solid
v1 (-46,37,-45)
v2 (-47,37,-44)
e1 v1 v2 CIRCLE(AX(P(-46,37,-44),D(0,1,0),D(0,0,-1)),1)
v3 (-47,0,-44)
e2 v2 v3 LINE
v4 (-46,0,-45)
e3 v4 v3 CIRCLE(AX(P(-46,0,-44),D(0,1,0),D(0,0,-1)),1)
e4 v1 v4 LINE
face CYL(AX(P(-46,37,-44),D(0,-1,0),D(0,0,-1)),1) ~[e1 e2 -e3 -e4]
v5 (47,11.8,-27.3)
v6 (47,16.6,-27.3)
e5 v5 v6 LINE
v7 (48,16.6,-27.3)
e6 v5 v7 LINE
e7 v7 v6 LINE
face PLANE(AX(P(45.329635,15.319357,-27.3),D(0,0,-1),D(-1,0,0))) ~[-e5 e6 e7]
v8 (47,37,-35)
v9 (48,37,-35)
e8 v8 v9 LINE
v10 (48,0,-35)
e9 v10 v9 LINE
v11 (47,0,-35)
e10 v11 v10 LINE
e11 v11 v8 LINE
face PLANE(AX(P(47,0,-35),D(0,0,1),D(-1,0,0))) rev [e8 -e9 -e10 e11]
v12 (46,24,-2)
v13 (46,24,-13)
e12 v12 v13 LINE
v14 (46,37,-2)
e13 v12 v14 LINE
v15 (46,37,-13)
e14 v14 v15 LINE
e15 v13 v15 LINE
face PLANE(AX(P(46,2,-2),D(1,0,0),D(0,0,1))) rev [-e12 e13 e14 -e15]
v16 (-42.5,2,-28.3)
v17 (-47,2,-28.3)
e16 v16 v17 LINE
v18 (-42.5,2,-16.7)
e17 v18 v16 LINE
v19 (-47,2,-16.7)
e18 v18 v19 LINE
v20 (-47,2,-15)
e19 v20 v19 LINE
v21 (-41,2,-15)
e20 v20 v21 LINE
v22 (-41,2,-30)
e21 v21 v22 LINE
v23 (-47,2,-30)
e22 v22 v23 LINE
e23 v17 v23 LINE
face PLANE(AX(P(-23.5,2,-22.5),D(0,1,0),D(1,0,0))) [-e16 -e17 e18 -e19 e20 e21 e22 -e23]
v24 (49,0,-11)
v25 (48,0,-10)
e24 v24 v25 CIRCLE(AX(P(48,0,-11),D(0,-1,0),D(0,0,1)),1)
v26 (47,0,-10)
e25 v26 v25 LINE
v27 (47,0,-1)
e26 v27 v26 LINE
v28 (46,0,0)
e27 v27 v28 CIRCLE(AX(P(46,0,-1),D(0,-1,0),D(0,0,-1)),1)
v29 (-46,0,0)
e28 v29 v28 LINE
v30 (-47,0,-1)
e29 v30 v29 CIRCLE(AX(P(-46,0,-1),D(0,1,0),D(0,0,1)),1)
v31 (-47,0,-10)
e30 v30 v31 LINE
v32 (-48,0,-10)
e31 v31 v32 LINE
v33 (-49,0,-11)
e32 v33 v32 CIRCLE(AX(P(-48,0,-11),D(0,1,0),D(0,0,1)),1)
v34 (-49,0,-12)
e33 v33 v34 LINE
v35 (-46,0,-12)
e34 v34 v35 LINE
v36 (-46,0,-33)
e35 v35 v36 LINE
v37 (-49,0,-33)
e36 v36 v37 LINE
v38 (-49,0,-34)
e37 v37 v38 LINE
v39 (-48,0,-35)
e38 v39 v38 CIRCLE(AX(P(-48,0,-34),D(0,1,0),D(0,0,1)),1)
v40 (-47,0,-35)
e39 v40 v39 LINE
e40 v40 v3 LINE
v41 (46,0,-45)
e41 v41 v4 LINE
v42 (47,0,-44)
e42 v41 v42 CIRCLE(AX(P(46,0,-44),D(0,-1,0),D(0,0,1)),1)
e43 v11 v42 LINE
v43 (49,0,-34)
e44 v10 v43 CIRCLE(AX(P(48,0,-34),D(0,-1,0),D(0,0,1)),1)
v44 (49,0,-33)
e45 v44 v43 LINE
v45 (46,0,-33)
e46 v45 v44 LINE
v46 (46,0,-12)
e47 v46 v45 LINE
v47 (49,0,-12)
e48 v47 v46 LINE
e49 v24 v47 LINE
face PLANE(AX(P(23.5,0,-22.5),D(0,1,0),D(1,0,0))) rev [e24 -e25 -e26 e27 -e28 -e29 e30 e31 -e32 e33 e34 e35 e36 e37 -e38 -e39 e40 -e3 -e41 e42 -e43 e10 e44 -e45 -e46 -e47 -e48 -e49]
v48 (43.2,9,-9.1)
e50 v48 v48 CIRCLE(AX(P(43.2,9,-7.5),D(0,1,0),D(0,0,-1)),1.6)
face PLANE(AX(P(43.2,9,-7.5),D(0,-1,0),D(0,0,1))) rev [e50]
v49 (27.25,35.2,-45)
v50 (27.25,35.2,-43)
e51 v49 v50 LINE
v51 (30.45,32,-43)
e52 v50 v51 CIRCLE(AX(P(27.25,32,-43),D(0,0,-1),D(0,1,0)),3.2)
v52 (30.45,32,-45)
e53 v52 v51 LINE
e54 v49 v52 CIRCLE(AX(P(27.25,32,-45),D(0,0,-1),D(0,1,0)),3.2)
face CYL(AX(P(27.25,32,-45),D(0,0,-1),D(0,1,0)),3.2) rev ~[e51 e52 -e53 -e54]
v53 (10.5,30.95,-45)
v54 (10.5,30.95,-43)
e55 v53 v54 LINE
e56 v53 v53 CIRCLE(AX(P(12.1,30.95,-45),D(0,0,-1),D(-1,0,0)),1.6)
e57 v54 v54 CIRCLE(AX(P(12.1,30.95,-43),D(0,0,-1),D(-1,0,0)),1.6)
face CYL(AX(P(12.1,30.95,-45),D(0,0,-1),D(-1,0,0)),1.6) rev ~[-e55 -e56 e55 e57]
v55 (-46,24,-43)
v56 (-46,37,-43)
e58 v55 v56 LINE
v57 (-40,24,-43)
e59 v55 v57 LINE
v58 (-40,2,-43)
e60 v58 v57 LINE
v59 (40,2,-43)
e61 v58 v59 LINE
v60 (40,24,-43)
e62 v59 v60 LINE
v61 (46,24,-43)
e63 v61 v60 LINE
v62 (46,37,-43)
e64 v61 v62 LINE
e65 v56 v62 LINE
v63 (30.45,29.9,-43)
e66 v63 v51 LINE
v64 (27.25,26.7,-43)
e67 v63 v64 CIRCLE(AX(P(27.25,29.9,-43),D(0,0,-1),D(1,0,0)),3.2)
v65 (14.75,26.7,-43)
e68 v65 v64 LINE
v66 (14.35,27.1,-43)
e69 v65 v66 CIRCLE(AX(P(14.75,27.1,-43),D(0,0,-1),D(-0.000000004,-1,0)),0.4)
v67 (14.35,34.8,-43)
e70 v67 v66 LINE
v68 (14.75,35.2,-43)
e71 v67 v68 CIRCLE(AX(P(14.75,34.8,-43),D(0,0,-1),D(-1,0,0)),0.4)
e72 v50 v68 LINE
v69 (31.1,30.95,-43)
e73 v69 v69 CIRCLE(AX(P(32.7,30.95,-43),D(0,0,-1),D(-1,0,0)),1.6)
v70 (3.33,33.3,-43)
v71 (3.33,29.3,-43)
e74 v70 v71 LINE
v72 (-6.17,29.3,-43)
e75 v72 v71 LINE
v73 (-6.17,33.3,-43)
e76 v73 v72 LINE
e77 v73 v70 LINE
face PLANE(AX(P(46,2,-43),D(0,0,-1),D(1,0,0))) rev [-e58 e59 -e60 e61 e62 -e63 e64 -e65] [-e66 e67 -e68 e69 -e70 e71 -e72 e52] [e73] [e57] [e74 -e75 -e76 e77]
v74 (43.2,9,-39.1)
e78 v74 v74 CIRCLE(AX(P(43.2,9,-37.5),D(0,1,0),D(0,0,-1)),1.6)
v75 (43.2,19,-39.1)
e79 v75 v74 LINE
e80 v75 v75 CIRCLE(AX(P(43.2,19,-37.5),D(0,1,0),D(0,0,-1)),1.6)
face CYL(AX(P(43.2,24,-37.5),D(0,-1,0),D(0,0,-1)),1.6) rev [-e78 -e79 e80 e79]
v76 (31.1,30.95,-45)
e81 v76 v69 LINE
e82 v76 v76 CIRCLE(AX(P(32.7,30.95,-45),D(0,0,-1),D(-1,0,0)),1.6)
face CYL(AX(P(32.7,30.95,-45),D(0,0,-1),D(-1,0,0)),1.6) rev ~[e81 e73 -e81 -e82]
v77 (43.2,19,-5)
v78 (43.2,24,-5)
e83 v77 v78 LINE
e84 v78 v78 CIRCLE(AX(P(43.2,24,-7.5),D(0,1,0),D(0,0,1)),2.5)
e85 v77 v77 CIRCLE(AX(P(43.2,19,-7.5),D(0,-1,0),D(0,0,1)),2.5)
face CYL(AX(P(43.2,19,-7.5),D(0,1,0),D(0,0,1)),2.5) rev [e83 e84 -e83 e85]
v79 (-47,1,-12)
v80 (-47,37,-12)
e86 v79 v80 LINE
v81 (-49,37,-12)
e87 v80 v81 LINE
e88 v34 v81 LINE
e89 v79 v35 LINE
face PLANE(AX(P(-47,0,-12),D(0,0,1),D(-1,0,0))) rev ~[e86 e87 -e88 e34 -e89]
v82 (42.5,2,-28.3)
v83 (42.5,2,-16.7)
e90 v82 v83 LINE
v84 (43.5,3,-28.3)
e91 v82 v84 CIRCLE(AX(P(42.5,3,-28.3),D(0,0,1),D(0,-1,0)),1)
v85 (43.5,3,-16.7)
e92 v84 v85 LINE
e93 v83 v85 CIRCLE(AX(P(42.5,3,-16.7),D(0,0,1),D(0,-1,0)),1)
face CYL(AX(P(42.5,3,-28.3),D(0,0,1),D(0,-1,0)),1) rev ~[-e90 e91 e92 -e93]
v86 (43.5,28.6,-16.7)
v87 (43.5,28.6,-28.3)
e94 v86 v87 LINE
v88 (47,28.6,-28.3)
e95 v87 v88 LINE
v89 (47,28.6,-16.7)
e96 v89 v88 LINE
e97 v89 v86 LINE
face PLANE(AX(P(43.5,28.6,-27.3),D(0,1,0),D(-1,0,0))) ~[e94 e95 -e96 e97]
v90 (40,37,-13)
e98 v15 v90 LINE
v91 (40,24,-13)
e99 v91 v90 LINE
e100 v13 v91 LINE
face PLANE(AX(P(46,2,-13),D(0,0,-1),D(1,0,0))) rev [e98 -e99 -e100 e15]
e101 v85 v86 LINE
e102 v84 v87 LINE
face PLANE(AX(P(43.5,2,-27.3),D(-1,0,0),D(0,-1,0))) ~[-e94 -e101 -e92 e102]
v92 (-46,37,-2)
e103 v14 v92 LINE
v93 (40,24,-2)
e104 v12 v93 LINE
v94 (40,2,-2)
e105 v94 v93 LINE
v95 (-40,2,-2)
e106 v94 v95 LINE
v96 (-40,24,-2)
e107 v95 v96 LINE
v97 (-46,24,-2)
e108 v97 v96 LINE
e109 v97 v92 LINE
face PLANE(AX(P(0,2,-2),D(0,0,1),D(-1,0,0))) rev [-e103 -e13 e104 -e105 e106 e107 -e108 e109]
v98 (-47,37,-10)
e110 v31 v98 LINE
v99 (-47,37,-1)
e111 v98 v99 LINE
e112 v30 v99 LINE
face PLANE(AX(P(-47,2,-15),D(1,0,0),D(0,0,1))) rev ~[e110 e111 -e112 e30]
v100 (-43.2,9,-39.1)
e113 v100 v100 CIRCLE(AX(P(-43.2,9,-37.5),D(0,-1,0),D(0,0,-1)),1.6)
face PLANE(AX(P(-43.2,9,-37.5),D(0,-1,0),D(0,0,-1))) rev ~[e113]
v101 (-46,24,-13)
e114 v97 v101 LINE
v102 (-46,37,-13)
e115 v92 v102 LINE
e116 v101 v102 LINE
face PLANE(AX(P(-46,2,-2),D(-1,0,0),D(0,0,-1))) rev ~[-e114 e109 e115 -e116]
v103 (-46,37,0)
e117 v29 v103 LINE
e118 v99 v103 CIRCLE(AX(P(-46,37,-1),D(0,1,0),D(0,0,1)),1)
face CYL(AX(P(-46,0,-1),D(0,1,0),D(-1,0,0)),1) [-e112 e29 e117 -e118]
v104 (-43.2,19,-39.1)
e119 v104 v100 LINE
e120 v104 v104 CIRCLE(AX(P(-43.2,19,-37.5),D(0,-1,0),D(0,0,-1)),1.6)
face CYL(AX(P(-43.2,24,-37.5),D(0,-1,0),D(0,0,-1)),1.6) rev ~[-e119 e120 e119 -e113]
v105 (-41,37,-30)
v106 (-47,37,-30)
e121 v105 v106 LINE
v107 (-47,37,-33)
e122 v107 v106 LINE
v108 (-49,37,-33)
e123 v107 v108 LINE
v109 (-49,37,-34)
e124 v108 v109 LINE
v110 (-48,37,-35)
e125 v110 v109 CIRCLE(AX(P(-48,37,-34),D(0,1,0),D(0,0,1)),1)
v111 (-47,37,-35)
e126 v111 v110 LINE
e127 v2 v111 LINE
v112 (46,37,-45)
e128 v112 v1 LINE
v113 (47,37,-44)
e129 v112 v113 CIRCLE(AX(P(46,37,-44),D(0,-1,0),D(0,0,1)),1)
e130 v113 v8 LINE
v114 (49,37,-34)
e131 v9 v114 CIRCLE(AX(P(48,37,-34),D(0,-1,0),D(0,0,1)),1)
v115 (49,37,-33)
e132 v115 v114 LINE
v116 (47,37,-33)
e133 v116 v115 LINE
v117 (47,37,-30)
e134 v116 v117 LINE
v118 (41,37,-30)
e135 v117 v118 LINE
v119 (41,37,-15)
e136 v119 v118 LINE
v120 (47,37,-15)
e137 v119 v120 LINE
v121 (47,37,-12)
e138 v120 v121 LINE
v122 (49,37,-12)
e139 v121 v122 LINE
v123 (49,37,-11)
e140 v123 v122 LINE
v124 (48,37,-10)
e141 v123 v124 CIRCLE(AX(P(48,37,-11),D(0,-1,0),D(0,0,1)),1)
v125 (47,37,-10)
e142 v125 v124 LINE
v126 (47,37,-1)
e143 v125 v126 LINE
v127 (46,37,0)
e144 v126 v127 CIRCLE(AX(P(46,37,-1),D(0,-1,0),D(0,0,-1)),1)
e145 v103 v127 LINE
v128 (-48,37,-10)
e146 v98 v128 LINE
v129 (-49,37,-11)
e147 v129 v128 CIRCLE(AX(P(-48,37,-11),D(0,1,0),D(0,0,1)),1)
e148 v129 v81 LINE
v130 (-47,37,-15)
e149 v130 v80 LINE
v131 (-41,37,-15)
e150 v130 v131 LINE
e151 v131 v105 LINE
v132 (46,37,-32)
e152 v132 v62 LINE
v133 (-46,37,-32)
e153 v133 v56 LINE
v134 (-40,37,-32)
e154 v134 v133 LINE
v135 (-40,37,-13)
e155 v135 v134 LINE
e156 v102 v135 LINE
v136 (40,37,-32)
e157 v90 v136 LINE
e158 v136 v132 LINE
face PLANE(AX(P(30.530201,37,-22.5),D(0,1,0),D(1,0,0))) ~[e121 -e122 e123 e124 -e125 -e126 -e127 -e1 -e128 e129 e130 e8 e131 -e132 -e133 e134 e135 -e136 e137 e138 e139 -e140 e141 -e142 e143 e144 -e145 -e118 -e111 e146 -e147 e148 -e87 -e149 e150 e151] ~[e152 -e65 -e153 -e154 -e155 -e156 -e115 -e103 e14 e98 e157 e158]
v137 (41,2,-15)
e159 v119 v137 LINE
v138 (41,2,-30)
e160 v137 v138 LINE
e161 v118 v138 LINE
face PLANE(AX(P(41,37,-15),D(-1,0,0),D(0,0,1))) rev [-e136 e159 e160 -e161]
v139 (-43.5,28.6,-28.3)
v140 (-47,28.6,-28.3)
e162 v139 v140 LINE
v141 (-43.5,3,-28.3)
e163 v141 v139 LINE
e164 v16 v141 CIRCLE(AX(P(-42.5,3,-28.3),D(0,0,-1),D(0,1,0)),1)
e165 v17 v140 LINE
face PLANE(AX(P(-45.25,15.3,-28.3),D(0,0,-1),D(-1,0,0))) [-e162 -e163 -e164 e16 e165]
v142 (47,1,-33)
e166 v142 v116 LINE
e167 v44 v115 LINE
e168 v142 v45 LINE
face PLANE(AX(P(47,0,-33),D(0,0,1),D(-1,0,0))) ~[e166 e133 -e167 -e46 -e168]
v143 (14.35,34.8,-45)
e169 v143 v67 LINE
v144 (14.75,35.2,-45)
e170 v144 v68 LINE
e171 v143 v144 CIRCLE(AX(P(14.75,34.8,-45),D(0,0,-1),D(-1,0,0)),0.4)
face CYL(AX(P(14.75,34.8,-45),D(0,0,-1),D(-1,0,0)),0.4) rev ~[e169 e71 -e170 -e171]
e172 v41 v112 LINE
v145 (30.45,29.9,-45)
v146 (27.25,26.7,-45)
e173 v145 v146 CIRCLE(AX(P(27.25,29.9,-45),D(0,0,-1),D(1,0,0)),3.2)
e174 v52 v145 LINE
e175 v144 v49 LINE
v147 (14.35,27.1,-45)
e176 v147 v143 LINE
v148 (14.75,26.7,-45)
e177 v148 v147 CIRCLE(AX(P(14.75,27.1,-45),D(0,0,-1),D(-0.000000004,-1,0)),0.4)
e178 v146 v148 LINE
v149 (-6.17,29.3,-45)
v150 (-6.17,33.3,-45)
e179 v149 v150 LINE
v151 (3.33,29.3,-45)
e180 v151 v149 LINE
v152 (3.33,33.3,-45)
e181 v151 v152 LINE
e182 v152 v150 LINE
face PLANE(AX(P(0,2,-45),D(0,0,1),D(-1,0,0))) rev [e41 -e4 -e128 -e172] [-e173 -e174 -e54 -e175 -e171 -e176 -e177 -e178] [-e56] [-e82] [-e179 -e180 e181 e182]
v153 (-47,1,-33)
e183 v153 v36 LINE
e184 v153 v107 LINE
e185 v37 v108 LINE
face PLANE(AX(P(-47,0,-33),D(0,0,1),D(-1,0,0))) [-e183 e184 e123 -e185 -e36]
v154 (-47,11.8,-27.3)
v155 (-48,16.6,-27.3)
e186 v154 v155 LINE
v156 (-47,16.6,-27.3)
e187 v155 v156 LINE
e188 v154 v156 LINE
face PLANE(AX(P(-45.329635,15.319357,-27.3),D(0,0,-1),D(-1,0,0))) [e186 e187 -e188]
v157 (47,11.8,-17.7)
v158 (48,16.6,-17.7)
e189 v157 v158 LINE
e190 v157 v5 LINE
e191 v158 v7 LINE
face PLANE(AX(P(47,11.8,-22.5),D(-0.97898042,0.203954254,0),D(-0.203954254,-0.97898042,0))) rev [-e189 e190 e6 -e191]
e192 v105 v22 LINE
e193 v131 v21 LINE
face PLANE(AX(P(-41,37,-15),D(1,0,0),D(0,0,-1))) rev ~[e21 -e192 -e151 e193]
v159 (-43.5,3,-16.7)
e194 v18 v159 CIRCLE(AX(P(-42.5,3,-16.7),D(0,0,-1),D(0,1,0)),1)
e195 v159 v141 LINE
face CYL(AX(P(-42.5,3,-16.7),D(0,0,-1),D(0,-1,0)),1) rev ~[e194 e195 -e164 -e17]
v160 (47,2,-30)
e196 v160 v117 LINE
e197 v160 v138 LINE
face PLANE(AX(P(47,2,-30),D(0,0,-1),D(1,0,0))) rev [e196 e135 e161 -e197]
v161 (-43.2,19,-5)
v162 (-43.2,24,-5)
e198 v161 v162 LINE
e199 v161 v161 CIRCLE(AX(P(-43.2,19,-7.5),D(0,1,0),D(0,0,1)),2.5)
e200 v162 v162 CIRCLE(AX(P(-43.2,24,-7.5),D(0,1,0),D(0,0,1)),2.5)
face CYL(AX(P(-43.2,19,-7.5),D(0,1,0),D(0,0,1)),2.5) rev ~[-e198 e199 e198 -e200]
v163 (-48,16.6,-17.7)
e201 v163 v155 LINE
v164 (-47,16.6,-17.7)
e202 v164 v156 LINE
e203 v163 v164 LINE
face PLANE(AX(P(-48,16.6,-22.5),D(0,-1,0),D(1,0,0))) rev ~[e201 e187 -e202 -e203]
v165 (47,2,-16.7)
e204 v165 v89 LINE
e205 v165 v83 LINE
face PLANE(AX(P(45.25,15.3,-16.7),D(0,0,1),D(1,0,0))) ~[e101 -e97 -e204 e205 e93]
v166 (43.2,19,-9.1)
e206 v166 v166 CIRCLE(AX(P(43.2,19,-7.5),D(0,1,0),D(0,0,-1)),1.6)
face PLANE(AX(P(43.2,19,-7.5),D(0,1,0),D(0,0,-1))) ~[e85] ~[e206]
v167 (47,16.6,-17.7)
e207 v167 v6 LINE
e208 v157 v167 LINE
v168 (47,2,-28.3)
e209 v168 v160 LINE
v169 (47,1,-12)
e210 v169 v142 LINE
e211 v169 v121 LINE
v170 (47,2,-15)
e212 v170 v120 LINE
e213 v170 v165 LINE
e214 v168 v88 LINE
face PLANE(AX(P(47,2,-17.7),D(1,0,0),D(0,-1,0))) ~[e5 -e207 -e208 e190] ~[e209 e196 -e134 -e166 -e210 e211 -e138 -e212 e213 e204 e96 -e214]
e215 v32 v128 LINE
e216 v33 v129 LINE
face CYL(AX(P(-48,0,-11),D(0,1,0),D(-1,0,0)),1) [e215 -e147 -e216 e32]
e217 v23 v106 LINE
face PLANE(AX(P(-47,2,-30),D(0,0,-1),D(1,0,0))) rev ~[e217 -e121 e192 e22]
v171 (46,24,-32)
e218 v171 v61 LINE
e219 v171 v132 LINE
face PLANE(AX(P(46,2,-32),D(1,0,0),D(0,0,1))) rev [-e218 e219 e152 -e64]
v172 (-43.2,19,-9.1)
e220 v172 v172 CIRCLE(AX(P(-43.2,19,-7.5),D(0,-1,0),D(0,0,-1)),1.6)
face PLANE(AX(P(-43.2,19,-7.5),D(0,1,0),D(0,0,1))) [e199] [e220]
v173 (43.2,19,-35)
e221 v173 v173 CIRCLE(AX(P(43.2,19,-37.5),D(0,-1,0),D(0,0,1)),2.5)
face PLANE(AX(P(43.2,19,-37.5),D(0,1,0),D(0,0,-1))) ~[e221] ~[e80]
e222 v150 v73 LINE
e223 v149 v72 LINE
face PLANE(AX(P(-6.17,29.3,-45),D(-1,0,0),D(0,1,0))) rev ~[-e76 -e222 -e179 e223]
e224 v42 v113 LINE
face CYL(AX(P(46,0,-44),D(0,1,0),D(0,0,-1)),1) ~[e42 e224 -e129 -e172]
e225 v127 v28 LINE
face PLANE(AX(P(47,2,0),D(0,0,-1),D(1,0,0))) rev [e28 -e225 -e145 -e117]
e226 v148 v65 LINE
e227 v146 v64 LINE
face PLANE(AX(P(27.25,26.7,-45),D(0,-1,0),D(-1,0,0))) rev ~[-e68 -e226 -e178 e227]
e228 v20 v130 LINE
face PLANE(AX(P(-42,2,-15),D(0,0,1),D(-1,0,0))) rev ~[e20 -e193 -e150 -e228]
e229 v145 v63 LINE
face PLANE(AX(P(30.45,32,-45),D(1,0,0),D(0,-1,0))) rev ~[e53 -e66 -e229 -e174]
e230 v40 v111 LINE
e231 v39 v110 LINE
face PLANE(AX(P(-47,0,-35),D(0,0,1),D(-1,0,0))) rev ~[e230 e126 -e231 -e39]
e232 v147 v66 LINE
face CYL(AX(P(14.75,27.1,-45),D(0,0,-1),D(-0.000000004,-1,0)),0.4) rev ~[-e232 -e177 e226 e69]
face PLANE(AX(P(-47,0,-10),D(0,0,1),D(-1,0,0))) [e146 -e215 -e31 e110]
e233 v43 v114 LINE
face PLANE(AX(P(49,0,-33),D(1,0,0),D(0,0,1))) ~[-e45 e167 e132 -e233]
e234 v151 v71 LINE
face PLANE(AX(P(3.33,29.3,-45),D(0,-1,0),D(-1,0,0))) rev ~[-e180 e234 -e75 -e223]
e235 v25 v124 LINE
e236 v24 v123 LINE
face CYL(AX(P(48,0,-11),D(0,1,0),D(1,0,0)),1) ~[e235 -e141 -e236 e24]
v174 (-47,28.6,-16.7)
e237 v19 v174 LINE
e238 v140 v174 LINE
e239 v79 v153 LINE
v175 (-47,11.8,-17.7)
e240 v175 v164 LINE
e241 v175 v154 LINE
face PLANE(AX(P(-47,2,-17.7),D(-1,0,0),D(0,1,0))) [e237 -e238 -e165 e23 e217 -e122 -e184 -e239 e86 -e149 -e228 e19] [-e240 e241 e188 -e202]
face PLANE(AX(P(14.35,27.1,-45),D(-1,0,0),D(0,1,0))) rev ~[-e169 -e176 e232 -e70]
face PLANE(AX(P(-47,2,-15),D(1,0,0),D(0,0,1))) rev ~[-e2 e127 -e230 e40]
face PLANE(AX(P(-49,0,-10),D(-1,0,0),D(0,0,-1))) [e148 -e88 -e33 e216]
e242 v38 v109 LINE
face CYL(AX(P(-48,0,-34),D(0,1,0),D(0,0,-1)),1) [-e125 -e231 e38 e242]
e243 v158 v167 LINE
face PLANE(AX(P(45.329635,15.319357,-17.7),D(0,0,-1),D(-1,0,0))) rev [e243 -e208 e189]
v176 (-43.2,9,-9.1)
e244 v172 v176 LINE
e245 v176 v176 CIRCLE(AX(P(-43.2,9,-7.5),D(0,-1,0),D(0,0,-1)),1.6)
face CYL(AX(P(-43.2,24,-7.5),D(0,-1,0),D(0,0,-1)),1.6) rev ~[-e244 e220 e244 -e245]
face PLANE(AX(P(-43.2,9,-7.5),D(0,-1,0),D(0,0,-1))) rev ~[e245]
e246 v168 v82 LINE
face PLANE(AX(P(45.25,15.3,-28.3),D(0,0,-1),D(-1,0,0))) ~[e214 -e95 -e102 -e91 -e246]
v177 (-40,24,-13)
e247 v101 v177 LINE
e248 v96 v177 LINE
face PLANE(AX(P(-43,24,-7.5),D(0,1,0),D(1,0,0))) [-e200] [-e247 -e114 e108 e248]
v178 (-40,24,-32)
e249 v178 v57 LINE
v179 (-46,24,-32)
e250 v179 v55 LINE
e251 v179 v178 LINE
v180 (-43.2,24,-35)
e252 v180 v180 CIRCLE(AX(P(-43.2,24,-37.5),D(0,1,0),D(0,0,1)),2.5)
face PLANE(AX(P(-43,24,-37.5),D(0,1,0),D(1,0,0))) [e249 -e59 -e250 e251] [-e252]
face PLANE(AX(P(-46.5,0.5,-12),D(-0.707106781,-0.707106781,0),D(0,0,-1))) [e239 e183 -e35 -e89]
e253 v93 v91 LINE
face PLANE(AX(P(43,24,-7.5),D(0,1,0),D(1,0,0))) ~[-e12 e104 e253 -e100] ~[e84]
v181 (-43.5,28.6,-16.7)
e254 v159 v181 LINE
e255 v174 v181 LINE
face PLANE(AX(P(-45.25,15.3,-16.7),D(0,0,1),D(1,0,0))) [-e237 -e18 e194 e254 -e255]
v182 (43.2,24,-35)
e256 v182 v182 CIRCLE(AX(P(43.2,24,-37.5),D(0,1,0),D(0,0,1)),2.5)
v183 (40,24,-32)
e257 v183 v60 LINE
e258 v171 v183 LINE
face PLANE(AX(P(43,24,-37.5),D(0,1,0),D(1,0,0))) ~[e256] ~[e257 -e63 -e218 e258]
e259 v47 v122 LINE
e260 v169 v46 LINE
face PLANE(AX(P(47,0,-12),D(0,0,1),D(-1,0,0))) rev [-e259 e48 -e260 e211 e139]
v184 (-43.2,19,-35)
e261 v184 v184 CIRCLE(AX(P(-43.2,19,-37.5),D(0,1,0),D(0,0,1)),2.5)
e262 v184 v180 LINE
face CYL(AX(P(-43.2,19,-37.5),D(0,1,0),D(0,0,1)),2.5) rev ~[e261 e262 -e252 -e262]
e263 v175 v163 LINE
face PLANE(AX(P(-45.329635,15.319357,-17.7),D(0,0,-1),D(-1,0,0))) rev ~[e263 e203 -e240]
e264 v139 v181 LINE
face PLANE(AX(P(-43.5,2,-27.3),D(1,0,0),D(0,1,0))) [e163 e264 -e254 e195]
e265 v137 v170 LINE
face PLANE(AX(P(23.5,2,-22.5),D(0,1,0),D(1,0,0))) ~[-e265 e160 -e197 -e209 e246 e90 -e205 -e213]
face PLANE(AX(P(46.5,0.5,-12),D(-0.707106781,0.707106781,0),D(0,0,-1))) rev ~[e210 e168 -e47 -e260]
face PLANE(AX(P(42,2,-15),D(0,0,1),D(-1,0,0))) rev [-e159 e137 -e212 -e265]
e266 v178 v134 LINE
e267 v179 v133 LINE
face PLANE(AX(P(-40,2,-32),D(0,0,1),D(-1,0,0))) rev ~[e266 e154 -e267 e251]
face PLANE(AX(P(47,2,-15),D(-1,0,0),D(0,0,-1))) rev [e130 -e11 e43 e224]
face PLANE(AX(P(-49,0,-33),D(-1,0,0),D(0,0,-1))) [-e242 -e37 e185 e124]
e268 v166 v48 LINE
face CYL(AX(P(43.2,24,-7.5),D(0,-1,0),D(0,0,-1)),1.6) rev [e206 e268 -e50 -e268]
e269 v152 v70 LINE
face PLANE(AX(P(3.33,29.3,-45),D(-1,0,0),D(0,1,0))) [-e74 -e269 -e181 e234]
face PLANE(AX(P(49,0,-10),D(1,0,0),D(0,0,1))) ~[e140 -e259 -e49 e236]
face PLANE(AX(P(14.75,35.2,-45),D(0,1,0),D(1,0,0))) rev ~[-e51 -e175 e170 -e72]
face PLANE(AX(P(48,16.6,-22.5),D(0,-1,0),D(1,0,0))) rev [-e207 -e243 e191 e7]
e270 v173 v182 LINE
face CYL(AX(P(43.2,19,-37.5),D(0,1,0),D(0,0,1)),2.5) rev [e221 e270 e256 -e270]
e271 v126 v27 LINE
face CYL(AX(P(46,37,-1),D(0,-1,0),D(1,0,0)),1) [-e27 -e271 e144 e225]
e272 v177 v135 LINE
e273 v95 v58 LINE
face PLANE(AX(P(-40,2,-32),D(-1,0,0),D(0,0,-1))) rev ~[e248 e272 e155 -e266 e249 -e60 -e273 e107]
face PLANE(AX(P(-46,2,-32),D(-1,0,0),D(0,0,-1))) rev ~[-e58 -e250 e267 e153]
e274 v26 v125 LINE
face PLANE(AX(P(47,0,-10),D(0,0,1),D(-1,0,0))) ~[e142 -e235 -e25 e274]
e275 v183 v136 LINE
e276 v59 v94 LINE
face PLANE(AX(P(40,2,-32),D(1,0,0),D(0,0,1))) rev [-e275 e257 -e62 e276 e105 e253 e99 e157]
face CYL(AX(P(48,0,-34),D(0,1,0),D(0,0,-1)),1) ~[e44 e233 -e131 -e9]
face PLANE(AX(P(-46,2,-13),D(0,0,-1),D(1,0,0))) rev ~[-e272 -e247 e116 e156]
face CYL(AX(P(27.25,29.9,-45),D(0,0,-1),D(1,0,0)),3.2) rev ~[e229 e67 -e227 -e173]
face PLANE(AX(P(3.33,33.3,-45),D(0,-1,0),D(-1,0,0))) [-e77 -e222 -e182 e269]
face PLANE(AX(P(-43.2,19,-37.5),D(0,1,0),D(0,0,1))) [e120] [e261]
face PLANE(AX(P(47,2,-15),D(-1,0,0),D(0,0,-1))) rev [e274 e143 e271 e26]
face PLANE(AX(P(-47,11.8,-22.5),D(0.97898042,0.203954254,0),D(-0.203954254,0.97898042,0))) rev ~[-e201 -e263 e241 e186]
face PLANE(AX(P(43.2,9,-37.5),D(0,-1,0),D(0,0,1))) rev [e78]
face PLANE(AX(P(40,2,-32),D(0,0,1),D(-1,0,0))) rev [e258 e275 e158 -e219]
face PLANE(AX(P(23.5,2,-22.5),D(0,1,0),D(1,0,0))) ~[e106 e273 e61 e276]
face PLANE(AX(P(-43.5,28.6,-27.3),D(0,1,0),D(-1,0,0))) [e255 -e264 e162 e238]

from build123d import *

# Parameters (mm, degrees)
SKETCH1_W            = 47
SKETCH1_H            = 45
BOSS_EXTRUDE1_DEPTH  = 2
BOSS_EXTRUDE3_DEPTH  = 35
BOSS_EXTRUDE4_DEPTH  = 4.8
SKETCH6_W            = 2
SKETCH6_H            = 2
BOSS_EXTRUDE5_DEPTH  = 37
SKETCH13_W           = 6
SKETCH13_H           = 11
BOSS_EXTRUDE7_DEPTH  = 22
SKETCH23_W           = 3.5
SKETCH23_H           = 26.6
BOSS_EXTRUDE9_DEPTH  = 1
SKETCH24_W           = 3.5
SKETCH24_H           = 26.6
BOSS_EXTRUDE10_DEPTH = 1
HOLE2_D              = 3.2
HOLE2_DEPTH          = 15
HOLE2_CBORE_D        = 5
HOLE2_CBORE_DEPTH    = 5
FILLET1_R            = 1
FILLET2_R            = 1
SKETCH25_W           = 1
SKETCH25_H           = 15
CUT_EXTRUDE5_DEPTH   = 35
FILLET1_OF_MIRROR1_R = 1
FILLET2_OF_MIRROR1_R = 1
CHAMFER1_SIZE        = 1
SKETCH19_R           = 1.6
CUT_EXTRUDE1_DEPTH   = 10
SKETCH20_W           = 9.5
SKETCH20_H           = 4
CUT_EXTRUDE2_DEPTH   = 10


with BuildPart() as part:
    # Sketch1 → Boss-Extrude1 (new body)
    with BuildSketch(Plane(origin=(0, 0, 0), x_dir=(1, 0, 0), z_dir=(0, 1, 0))):
        with Locations((-23.5, 22.5)):
            Rectangle(SKETCH1_W, SKETCH1_H)
    boss_extrude1 = extrude(amount=BOSS_EXTRUDE1_DEPTH)

    # Sketch4 → Boss-Extrude3 (add)
    with BuildSketch(Plane(origin=(0, 2, 0), x_dir=(1, 0, 0), z_dir=(0, 1, 0))):
        Polygon((-42, 15), (-47, 15), (-47, 0), (0, 0), (0, 2), (-0.864229009, 2), (-2, 2), (-45, 2), (-46, 2), (-46, 13), (-45, 13), (-40, 13), (-40, 32), (-45, 32), (-46, 32), (-46, 43), (-45, 43), (-2, 43), (0, 43), (0, 45), (-47, 45), (-47, 30), (-42, 30), align=None)
    boss_extrude3 = extrude(amount=BOSS_EXTRUDE3_DEPTH)

    # Sketch5 → Boss-Extrude4 (add, symmetric)
    with BuildSketch(Plane.XY.offset(-22.5)):
        Polygon((-47, 2), (-47, 11.8), (-48, 16.6), (-47, 16.6), (-47, 28.6), (-43.5, 28.6), (-43.5, 2), align=None)
    boss_extrude4 = extrude(amount=BOSS_EXTRUDE4_DEPTH, both=True)

    # Sketch6 → Boss-Extrude5 (add)
    with BuildSketch(Plane(origin=(0, 0, 0), x_dir=(-1, 0, 0), z_dir=(0, -1, 0))):
        with Locations((48, 34)):
            Rectangle(SKETCH6_W, SKETCH6_H)
        with Locations((48, 11)):
            Rectangle(SKETCH6_W, SKETCH6_H)
    boss_extrude5 = extrude(amount=-BOSS_EXTRUDE5_DEPTH)

    # Sketch13 → Boss-Extrude7 (add)
    with BuildSketch(Plane(origin=(0, 2, 0), x_dir=(1, 0, 0), z_dir=(0, 1, 0))):
        with Locations((-43, 37.5)):
            Rectangle(SKETCH13_W, SKETCH13_H)
        with Locations((-43, 7.5)):
            Rectangle(SKETCH13_W, SKETCH13_H)
    boss_extrude7 = extrude(amount=BOSS_EXTRUDE7_DEPTH)

    # Sketch23 → Boss-Extrude9 (add)
    with BuildSketch(Plane.XY.offset(-17.7)):
        with Locations((-45.25, 15.3)):
            Rectangle(SKETCH23_W, SKETCH23_H)
    boss_extrude9 = extrude(amount=BOSS_EXTRUDE9_DEPTH)

    # Sketch24 → Boss-Extrude10 (add)
    with BuildSketch(Plane(origin=(0, 0, -27.3), x_dir=(-1, 0, 0), z_dir=(0, 0, -1))):
        with Locations((45.25, 15.3)):
            Rectangle(SKETCH24_W, SKETCH24_H)
    boss_extrude10 = extrude(amount=BOSS_EXTRUDE10_DEPTH)

    # Hole2
    with Locations(Plane(origin=(-43.2, 24, -7.5), x_dir=(0, 0, 1), z_dir=(0, 1, 0))):
        with Locations((0, 0), (-30, 0)):
            hole2 = CounterBoreHole(HOLE2_D / 2, HOLE2_CBORE_D / 2, HOLE2_CBORE_DEPTH, depth=HOLE2_DEPTH)

    # Fillet1
    fillet1_edges = [part.edges().sort_by_distance(p)[0] for p in [
        (-47, 18.5, 0),
        (-47, 18.5, -45),
        (-49, 18.5, -35),
        (-49, 18.5, -10),
    ]]
    fillet(fillet1_edges, radius=FILLET1_R)

    # Fillet2
    fillet2_edges = [part.edges().sort_by_distance(p)[0] for p in [
        (-43.5, 2, -22.5),
    ]]
    fillet(fillet2_edges, radius=FILLET2_R)

    # Sketch25 → Cut-Extrude5 (cut)
    with BuildSketch(Plane(origin=(0, 37, 0), x_dir=(1, 0, 0), z_dir=(0, 1, 0))):
        with Locations((-41.5, 22.5)):
            Rectangle(SKETCH25_W, SKETCH25_H)
    cut_extrude5 = extrude(amount=-CUT_EXTRUDE5_DEPTH, mode=Mode.SUBTRACT)

    # Mirror1: Boss-Extrude1, Boss-Extrude3, Boss-Extrude4, Boss-Extrude5, Boss-Extrude7, Boss-Extrude9, Boss-Extrude10, Hole2, Cut-Extrude5 across plane
    add(boss_extrude1.mirror(Plane(origin=(0, 0, 0), x_dir=(0, 0, 1), z_dir=(1, 0, 0))))
    add(boss_extrude3.mirror(Plane(origin=(0, 0, 0), x_dir=(0, 0, 1), z_dir=(1, 0, 0))))
    add(boss_extrude4.mirror(Plane(origin=(0, 0, 0), x_dir=(0, 0, 1), z_dir=(1, 0, 0))))
    add(boss_extrude5.mirror(Plane(origin=(0, 0, 0), x_dir=(0, 0, 1), z_dir=(1, 0, 0))))
    add(boss_extrude7.mirror(Plane(origin=(0, 0, 0), x_dir=(0, 0, 1), z_dir=(1, 0, 0))))
    add(boss_extrude9.mirror(Plane(origin=(0, 0, 0), x_dir=(0, 0, 1), z_dir=(1, 0, 0))))
    add(boss_extrude10.mirror(Plane(origin=(0, 0, 0), x_dir=(0, 0, 1), z_dir=(1, 0, 0))))
    add(hole2.mirror(Plane(origin=(0, 0, 0), x_dir=(0, 0, 1), z_dir=(1, 0, 0))), mode=Mode.SUBTRACT)
    add(cut_extrude5.mirror(Plane(origin=(0, 0, 0), x_dir=(0, 0, 1), z_dir=(1, 0, 0))), mode=Mode.SUBTRACT)

    # Fillet1 of Mirror1
    fillet1_of_mirror1_edges = [part.edges().sort_by_distance(p)[0] for p in [
        (47, 18.5, 0),
        (47, 18.5, -45),
        (49, 18.5, -35),
        (49, 18.5, -10),
    ]]
    fillet(fillet1_of_mirror1_edges, radius=FILLET1_OF_MIRROR1_R)

    # Fillet2 of Mirror1
    fillet2_of_mirror1_edges = [part.edges().sort_by_distance(p)[0] for p in [
        (43.5, 2, -22.5),
    ]]
    fillet(fillet2_of_mirror1_edges, radius=FILLET2_OF_MIRROR1_R)

    # Chamfer1
    chamfer1_edges = [part.edges().sort_by_distance(p)[0] for p in [
        (47, 0, -22.5),
        (-47, 0, -22.5),
    ]]
    chamfer(chamfer1_edges, length=CHAMFER1_SIZE)

    # Sketch19 → Cut-Extrude1 (cut)
    with BuildSketch(Plane(origin=(-58.916405474, -6.932652766, -45), x_dir=(-1, 0, 0), z_dir=(0, 0, -1))):
        with Locations((-91.616405474, 37.882652766)):
            Circle(SKETCH19_R)
        with Locations((-71.016405474, 37.882652766)):
            Circle(SKETCH19_R)
        with BuildLine():
            Line((-73.666405474, 42.132652766), (-86.166405474, 42.132652766))
            ThreePointArc((-86.166405474, 42.132652766), (-88.429147174, 41.195394466), (-89.366405474, 38.932652766))
            Line((-89.366405474, 38.932652766), (-89.366405474, 36.832652766))
            ThreePointArc((-89.366405474, 36.832652766), (-88.429147174, 34.569911067), (-86.166405474, 33.632652766))
            Line((-86.166405474, 33.632652766), (-73.666405474, 33.632652766))
            ThreePointArc((-73.666405474, 33.632652766), (-73.383562762, 33.749810054), (-73.266405474, 34.032652766))
            Line((-73.266405474, 34.032652766), (-73.266405474, 41.732652766))
            ThreePointArc((-73.266405474, 41.732652766), (-73.383562762, 42.015495479), (-73.666405474, 42.132652766))
        make_face()
    extrude(amount=-CUT_EXTRUDE1_DEPTH, mode=Mode.SUBTRACT)

    # Sketch20 → Cut-Extrude2 (cut)
    with BuildSketch(Plane(origin=(-58.916405474, -6.932652766, -45), x_dir=(-1, 0, 0), z_dir=(0, 0, -1))):
        with Locations((-57.496405474, 38.232652766)):
            Rectangle(SKETCH20_W, SKETCH20_H)
    extrude(amount=-CUT_EXTRUDE2_DEPTH, mode=Mode.SUBTRACT)


solid = part.part
